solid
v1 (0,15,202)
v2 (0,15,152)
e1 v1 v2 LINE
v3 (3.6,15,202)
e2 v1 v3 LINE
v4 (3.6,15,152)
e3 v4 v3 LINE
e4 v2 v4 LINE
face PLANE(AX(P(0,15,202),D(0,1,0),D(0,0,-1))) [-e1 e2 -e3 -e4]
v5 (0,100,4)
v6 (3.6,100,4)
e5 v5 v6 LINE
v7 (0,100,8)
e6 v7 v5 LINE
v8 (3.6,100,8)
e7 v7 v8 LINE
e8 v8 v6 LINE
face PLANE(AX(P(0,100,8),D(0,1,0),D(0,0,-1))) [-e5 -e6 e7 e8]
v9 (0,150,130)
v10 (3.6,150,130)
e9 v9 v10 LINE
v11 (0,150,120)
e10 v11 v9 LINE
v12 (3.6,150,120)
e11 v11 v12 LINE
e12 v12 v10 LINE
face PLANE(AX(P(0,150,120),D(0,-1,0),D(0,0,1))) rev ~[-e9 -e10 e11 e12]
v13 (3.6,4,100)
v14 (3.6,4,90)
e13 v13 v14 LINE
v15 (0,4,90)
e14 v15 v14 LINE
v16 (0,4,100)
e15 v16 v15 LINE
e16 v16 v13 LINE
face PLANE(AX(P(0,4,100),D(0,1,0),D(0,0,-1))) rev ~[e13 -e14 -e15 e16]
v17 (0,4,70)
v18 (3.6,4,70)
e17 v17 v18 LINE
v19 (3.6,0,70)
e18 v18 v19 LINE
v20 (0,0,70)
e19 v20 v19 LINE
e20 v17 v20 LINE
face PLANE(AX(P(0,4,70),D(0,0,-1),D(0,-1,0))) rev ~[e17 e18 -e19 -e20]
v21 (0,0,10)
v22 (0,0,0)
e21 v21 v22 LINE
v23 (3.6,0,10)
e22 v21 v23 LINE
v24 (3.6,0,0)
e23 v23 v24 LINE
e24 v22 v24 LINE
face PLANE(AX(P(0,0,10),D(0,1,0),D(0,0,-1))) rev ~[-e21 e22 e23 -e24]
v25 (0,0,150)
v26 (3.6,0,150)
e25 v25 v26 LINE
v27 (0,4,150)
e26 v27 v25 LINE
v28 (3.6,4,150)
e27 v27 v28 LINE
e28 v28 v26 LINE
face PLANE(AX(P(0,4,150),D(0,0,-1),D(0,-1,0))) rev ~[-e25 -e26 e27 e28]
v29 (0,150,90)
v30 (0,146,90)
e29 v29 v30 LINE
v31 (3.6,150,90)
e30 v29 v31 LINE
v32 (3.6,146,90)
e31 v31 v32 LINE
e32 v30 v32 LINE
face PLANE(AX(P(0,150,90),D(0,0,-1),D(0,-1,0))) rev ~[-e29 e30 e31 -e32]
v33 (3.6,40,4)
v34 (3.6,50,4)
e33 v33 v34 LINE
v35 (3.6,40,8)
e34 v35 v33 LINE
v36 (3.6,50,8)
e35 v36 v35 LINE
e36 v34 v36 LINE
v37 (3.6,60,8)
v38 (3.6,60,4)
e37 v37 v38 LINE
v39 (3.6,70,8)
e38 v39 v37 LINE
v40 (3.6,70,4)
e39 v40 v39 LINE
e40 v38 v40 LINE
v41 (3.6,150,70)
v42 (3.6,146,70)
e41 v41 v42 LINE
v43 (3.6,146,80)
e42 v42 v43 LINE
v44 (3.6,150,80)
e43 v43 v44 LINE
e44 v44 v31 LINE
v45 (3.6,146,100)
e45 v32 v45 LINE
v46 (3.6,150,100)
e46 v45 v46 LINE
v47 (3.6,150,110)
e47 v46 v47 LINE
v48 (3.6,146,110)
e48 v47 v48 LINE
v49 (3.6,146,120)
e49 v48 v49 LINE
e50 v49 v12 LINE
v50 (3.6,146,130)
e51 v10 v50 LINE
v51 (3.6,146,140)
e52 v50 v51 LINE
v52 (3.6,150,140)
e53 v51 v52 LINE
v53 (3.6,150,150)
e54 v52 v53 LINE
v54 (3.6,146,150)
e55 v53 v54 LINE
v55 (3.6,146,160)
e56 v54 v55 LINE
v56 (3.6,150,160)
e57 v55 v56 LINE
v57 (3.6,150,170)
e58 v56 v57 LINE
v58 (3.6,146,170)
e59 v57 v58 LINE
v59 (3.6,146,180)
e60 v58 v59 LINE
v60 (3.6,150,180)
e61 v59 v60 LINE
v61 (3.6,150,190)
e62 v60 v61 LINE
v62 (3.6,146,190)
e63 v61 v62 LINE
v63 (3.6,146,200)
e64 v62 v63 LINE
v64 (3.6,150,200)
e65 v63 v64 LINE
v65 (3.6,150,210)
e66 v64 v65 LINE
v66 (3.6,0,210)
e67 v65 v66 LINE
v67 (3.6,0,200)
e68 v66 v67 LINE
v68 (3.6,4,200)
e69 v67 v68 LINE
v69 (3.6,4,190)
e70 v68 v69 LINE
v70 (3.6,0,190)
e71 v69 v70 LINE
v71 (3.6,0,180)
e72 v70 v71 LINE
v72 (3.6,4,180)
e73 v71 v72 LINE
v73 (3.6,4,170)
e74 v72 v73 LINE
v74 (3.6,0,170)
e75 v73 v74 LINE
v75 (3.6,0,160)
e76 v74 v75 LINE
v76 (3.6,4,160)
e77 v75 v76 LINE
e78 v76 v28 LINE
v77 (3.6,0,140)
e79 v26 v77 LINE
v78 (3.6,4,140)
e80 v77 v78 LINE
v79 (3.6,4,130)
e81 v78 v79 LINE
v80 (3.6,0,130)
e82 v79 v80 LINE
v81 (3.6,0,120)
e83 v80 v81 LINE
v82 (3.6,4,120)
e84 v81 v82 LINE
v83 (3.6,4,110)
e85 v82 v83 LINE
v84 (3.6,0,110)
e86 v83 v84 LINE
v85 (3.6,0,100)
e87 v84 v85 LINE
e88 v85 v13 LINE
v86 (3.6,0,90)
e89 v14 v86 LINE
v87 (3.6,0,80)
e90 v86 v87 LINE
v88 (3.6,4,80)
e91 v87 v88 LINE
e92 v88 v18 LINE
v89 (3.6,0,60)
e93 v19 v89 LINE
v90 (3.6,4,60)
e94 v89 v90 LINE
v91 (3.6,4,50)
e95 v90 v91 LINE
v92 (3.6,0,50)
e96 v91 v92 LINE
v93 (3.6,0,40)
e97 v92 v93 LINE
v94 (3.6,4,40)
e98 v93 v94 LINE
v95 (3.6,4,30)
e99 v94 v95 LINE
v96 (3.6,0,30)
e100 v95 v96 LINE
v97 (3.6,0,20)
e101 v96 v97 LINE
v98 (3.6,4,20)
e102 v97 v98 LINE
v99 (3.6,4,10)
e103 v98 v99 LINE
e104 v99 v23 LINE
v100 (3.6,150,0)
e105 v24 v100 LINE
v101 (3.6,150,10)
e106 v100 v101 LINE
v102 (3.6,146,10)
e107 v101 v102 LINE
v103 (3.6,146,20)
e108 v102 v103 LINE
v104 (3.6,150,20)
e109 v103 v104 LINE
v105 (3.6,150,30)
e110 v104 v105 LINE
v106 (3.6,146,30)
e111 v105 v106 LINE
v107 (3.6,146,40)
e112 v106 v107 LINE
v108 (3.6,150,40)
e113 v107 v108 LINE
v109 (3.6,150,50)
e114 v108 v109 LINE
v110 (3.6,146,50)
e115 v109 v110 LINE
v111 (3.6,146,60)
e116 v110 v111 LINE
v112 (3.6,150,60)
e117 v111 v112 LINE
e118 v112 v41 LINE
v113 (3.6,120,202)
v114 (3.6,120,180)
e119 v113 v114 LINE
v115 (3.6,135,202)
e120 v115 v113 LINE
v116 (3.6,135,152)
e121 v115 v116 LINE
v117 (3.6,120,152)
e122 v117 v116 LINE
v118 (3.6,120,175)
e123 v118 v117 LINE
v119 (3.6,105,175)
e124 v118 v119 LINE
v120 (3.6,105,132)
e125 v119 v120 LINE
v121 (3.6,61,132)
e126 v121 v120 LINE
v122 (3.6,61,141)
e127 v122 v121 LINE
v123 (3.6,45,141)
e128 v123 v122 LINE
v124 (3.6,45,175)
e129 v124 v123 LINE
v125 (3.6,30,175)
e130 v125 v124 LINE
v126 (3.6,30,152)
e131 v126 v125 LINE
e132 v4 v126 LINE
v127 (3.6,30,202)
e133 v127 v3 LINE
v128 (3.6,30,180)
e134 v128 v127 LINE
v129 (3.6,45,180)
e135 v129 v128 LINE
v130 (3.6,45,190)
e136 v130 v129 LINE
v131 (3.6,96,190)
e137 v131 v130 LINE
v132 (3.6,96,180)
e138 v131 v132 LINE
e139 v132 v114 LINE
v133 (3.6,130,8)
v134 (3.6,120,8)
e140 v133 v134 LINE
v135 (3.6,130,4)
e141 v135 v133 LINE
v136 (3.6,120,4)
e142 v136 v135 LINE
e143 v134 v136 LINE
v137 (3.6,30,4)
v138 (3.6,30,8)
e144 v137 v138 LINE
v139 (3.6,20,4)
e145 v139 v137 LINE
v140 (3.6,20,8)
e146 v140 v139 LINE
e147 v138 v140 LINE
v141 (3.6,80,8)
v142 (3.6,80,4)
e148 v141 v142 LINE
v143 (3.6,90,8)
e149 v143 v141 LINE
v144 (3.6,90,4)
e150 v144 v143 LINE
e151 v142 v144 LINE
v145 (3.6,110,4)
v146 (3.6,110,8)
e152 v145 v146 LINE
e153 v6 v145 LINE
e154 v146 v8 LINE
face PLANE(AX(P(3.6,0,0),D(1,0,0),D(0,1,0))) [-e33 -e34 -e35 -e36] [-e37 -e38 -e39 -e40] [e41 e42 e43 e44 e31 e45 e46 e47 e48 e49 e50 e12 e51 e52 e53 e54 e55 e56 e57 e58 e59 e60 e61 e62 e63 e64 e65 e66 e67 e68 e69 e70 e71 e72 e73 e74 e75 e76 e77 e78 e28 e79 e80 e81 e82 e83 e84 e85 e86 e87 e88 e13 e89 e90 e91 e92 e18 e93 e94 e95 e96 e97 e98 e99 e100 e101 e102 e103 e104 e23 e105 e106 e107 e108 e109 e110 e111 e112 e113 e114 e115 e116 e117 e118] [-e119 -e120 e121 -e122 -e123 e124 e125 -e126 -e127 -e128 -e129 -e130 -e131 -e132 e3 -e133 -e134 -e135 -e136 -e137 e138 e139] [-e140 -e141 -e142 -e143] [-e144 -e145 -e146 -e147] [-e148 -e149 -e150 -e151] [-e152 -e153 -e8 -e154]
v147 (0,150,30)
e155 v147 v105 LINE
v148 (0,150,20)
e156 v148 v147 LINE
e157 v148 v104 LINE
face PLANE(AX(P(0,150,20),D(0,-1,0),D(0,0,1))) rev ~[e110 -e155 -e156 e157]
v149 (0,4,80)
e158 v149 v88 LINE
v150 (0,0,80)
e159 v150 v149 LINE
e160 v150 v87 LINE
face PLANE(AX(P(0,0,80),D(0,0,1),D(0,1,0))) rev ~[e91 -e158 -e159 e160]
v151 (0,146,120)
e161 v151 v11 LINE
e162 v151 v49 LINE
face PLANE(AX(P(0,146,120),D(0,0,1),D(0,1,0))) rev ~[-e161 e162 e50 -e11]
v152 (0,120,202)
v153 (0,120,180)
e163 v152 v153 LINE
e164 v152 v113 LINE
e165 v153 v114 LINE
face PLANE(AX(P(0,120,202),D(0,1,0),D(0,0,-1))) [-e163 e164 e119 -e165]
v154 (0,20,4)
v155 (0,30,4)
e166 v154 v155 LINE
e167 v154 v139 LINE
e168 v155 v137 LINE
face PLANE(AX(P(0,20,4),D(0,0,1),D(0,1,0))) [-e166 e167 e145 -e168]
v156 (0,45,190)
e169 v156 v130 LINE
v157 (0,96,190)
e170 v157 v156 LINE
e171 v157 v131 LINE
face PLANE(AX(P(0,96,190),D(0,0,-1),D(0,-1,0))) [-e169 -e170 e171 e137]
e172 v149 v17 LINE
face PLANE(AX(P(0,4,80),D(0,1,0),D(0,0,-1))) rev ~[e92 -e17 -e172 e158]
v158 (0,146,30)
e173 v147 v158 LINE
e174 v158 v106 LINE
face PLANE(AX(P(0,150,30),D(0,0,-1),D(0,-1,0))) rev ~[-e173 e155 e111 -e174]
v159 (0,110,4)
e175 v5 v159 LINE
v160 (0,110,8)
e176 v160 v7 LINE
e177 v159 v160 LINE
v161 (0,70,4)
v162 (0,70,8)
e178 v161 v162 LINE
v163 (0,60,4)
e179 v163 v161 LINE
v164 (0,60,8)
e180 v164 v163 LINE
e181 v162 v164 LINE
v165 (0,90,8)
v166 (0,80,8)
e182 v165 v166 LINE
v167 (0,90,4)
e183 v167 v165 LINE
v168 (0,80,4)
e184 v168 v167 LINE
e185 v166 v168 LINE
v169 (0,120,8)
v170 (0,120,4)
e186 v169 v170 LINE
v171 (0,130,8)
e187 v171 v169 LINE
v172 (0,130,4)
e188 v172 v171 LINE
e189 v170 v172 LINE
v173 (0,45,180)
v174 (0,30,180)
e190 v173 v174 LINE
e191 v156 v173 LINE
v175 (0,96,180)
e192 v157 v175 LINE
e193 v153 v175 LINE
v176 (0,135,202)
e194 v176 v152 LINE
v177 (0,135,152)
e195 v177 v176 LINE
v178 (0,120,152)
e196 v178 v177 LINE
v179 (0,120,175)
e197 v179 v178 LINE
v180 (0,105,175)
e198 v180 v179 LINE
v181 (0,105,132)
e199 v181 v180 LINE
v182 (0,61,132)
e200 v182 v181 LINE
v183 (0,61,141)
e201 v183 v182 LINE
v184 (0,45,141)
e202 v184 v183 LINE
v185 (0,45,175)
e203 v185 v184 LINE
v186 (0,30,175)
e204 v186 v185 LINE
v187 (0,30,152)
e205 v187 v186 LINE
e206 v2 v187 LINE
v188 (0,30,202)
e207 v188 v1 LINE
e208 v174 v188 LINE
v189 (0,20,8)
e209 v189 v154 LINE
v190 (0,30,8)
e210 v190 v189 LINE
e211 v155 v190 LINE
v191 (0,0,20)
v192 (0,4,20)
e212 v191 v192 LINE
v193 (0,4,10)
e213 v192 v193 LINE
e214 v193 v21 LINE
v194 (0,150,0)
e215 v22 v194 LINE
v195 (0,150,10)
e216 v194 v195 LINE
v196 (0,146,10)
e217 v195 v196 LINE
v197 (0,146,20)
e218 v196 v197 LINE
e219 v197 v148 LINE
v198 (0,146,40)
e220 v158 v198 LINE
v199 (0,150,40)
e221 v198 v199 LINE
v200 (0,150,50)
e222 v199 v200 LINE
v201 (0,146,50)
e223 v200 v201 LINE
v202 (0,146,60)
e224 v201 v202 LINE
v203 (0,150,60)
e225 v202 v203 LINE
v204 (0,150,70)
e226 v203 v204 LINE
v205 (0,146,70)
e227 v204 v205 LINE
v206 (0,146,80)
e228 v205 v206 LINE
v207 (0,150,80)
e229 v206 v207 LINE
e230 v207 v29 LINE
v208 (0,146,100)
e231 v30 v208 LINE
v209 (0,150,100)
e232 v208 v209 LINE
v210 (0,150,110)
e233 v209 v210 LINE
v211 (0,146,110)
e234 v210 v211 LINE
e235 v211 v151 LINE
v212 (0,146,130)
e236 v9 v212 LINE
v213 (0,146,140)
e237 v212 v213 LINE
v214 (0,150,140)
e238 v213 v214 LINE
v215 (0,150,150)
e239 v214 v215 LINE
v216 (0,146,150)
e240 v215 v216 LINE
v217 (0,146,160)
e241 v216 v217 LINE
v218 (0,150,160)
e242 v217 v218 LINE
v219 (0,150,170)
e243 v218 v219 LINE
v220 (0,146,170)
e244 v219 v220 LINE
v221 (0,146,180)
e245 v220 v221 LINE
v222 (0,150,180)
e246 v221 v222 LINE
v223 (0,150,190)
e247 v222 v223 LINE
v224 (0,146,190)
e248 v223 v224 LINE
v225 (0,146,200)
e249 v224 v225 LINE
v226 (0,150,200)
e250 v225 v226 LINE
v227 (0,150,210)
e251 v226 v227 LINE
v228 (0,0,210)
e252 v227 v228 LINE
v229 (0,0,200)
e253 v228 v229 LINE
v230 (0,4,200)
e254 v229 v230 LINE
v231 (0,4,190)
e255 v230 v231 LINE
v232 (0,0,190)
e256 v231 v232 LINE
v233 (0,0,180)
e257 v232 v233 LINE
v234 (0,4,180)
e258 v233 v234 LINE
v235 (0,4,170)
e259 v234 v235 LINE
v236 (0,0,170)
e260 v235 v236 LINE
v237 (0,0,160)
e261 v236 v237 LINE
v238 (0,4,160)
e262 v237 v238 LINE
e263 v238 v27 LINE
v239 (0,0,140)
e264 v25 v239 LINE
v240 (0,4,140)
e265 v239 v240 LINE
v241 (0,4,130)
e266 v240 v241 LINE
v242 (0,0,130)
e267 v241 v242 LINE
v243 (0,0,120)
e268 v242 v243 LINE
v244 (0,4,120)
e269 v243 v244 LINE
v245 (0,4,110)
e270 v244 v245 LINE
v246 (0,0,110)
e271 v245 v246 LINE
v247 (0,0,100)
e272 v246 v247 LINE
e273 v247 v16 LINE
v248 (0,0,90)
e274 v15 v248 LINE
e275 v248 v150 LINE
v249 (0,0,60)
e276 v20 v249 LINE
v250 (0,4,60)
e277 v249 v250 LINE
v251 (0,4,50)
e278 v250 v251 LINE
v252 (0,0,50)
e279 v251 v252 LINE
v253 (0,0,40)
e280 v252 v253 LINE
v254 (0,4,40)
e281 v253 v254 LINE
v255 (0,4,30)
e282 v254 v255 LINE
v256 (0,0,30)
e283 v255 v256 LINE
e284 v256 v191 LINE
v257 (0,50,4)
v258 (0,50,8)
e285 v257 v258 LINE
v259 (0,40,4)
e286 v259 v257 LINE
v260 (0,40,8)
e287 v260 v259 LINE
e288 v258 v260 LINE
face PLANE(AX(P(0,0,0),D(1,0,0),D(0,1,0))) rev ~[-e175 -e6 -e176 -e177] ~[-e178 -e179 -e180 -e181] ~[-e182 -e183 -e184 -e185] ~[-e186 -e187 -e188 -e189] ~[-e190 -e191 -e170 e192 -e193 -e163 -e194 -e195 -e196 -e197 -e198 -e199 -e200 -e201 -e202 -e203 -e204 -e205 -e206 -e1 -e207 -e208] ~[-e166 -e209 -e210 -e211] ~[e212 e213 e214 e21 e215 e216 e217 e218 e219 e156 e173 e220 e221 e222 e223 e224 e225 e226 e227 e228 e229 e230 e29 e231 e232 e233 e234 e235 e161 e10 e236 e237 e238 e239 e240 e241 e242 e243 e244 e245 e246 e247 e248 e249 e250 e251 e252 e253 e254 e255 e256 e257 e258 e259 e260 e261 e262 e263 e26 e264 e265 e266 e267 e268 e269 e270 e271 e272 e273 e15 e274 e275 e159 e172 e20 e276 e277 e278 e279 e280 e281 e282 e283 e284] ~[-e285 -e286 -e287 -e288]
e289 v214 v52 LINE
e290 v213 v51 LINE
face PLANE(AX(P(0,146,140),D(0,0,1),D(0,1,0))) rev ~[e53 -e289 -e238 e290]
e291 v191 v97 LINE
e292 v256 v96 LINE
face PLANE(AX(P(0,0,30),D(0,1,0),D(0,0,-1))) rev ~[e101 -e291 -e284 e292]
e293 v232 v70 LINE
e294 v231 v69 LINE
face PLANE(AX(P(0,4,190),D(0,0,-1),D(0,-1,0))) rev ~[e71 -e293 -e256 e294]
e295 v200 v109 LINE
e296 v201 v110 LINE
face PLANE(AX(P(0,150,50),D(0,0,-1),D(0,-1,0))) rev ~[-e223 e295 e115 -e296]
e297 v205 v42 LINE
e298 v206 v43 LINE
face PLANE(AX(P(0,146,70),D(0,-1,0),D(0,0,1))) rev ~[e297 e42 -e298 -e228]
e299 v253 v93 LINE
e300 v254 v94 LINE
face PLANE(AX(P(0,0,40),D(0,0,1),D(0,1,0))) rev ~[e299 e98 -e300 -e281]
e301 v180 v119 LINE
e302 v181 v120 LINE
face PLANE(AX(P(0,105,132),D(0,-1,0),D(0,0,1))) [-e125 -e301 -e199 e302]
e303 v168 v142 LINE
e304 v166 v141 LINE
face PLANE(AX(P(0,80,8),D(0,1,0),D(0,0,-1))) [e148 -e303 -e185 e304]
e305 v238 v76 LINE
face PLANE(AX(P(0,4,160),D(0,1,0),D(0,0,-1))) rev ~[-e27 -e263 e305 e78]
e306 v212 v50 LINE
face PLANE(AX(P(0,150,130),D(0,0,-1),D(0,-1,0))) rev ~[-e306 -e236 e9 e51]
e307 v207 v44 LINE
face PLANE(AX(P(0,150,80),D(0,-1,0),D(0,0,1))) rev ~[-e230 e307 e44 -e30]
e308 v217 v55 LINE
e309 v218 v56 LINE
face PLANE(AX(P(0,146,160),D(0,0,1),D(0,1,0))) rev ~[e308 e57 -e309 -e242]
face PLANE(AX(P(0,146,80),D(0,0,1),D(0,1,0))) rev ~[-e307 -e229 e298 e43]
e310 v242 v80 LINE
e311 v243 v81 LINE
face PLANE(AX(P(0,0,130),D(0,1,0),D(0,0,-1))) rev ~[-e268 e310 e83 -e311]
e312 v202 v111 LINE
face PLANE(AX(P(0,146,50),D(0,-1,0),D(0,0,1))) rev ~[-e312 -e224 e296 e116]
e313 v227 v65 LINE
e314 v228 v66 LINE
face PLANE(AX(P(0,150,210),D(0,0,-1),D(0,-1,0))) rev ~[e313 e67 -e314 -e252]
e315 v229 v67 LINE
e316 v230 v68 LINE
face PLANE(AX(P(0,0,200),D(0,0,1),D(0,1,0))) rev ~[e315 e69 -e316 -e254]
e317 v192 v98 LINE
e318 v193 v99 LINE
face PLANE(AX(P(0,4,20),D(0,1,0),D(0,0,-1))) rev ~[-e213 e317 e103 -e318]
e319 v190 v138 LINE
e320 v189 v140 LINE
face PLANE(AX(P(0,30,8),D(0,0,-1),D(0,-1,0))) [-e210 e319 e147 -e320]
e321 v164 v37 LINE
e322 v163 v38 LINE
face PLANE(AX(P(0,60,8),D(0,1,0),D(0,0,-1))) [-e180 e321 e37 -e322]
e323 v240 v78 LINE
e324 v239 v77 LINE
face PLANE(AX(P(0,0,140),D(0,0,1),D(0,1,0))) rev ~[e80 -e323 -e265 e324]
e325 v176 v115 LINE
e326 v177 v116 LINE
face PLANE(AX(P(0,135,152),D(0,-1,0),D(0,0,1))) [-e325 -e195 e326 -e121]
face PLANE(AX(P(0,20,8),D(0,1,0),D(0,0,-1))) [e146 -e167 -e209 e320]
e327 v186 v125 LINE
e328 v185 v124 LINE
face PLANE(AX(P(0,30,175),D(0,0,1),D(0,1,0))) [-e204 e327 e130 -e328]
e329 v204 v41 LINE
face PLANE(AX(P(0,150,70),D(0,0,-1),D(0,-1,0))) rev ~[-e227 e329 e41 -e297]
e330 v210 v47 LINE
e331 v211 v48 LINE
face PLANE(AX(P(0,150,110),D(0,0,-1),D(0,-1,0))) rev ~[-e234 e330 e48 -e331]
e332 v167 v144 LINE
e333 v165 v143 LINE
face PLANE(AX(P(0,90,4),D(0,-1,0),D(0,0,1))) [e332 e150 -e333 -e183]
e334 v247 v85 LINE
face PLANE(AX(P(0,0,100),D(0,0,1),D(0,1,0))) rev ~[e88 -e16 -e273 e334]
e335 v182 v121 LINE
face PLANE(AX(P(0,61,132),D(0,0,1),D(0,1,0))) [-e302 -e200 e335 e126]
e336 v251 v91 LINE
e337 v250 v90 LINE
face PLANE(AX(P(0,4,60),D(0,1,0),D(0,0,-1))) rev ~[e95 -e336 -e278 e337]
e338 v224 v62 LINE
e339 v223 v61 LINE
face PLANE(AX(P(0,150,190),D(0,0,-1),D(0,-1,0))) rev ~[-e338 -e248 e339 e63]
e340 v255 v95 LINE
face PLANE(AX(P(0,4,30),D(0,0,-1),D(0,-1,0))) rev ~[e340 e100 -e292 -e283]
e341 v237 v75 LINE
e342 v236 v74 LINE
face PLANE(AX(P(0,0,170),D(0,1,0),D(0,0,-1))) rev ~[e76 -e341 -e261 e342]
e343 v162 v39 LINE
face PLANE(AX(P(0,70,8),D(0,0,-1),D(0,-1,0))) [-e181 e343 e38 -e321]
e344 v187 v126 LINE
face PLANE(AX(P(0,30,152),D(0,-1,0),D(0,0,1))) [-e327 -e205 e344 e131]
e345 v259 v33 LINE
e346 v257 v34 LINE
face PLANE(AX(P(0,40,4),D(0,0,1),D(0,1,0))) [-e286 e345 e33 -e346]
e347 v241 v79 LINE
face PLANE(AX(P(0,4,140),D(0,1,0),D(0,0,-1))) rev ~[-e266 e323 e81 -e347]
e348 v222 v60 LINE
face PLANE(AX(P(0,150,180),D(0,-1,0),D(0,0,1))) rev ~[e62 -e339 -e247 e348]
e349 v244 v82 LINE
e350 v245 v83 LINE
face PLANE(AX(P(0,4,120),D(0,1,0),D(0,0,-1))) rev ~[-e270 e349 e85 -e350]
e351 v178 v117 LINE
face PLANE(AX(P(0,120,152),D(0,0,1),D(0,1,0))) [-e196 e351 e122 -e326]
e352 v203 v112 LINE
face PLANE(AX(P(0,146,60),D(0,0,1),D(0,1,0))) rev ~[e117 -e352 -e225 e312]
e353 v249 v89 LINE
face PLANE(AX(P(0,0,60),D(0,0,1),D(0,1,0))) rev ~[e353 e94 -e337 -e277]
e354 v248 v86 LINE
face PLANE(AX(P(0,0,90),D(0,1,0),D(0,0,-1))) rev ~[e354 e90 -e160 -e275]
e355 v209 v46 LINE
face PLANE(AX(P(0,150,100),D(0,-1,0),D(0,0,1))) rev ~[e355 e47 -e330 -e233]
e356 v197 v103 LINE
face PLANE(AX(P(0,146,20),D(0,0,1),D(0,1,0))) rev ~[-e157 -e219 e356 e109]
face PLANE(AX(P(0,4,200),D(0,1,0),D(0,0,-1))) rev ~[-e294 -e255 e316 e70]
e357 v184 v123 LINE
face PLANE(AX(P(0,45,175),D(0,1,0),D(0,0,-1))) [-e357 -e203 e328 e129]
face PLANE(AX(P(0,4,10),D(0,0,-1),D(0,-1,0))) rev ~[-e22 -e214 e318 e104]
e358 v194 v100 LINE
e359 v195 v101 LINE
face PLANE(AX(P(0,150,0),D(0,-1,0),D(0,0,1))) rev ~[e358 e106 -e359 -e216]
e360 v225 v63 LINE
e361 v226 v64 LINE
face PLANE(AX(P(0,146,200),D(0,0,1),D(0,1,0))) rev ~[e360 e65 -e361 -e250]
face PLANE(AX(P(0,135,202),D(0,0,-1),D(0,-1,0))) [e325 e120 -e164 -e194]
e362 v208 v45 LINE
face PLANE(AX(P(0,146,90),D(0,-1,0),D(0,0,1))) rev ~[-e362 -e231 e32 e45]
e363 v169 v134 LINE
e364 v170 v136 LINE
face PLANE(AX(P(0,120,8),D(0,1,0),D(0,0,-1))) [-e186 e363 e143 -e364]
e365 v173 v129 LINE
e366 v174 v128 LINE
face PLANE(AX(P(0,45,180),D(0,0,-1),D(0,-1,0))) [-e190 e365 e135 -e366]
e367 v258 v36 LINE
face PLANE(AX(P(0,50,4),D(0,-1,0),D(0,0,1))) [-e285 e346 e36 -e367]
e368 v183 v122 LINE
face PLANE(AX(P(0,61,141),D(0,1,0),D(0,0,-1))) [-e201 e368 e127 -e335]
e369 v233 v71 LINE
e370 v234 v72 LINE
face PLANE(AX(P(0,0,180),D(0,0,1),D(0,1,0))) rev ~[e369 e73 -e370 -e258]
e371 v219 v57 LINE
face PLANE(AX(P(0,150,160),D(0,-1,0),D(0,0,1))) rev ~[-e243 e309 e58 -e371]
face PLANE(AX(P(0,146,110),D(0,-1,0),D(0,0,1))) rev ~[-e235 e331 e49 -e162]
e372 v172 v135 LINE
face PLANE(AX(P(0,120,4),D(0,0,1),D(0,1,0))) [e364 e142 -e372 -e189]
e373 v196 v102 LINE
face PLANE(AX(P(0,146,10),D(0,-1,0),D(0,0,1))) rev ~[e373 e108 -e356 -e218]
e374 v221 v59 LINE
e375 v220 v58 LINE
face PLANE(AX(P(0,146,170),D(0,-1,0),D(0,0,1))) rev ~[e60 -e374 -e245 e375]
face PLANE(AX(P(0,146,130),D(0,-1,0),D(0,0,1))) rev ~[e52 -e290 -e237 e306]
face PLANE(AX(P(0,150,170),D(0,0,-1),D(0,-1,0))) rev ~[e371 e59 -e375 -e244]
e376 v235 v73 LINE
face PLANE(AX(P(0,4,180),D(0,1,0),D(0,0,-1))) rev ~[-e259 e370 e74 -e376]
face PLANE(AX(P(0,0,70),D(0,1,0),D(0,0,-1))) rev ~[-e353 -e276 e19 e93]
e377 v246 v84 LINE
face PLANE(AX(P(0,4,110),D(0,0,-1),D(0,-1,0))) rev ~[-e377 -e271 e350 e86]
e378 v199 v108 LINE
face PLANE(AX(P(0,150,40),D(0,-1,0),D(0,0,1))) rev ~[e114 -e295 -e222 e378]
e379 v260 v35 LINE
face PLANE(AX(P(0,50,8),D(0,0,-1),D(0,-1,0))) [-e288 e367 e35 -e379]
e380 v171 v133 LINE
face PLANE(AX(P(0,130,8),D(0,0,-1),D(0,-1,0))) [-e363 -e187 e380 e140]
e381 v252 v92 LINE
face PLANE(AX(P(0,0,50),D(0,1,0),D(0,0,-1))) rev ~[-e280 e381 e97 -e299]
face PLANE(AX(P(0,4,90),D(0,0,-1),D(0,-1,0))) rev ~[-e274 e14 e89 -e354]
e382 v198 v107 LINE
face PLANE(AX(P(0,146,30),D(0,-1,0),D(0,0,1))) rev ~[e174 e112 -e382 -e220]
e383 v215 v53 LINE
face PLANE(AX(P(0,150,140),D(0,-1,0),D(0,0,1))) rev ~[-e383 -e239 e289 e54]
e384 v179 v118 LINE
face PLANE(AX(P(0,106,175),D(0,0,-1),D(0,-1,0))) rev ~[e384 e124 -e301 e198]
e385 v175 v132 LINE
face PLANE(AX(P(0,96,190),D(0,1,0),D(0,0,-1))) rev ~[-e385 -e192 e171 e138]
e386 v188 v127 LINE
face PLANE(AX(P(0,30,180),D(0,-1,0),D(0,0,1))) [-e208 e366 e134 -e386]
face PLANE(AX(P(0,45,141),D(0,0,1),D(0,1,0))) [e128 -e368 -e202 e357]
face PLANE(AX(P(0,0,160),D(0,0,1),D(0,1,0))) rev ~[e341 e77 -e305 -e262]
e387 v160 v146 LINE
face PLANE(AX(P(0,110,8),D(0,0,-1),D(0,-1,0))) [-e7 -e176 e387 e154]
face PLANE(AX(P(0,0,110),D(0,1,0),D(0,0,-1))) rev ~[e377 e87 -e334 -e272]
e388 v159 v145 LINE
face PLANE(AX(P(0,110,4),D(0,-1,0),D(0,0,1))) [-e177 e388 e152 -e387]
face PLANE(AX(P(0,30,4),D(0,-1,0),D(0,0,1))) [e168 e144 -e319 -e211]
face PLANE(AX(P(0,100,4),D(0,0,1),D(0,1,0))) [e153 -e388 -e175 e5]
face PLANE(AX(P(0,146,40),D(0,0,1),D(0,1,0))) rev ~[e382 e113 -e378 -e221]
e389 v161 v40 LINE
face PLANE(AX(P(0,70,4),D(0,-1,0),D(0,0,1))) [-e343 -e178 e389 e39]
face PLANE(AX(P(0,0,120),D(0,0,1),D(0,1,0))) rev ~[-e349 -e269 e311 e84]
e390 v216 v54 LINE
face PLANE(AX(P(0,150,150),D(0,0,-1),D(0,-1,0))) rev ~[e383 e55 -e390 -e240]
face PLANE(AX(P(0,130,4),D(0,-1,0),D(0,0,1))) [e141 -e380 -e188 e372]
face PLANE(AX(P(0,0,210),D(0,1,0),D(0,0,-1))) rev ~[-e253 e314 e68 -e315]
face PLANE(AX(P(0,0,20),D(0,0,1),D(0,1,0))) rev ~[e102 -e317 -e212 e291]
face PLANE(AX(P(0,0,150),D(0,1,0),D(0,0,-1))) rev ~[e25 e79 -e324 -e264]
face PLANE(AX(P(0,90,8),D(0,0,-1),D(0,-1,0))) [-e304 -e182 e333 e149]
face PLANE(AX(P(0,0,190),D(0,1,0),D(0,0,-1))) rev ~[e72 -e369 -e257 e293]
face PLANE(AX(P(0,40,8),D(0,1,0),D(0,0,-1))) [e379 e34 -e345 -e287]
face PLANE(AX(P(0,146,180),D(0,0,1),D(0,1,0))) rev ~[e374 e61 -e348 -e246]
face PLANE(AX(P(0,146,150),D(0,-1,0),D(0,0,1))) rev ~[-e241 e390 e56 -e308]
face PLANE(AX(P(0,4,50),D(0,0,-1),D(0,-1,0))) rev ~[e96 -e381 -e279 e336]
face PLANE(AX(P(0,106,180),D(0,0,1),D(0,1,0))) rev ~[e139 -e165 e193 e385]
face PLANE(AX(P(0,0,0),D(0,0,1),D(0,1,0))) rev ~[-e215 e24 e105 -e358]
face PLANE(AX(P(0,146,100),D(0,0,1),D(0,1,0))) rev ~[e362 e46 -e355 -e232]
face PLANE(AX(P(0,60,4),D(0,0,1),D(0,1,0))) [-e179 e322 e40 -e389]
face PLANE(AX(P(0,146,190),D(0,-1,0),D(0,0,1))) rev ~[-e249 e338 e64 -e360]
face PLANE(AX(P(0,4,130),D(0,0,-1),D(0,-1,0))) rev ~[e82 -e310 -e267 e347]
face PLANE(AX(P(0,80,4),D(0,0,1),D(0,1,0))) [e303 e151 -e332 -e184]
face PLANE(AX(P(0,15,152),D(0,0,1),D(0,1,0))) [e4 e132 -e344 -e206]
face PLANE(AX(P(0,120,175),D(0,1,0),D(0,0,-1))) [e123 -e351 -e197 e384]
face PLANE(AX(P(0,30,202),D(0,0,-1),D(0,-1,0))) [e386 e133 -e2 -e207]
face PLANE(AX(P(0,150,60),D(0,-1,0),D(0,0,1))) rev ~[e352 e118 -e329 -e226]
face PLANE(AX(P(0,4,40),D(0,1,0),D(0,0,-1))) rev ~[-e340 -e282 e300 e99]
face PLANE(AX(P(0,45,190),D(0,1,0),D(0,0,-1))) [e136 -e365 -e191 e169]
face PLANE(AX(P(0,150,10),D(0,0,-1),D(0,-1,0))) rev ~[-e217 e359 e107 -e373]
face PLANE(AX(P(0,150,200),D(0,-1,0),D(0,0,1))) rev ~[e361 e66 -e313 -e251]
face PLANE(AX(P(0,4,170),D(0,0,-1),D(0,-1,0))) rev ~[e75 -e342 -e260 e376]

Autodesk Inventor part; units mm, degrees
ref_plane "YZ Plane" through (0, 0, 0) normal (1, 0, 0) x (0, 1, 0)
ref_plane "XZ Plane" through (0, 0, 0) normal (0, 1, 0) x (-1, 0, 0)
ref_plane "XY Plane" through (0, 0, 0) normal (0, 0, 1) x (1, 0, 0)
sketch "Sketch1" plane through (0, 0, 0) normal (1, 0, 0) x (0, 1, 0)
  line L0 (0, 0) -> (150, 0)
  line L1 (150, 0) -> (150, 210)
  line L2 (150, 210) -> (0, 210)
  line L3 (0, 210) -> (0, 0)
  line L4 (105, 190) -> (45, 190)
  line L5 (45, 190) -> (45, 132)
  line L6 (45, 132) -> (105, 132)
  line L7 (105, 132) -> (105, 190)
  line L8 (105, 190) -> (96, 190)
  line L9 (96, 190) -> (96, 170)
  line L10 (96, 170) -> (105, 170)
  line L11 (105, 170) -> (105, 190)
  line L12 (45, 141) -> (61, 141)
  line L13 (61, 141) -> (61, 132)
  line L14 (61, 132) -> (45, 132)
  line L15 (45, 132) -> (45, 141)
  line L16 (105, 190) -> (96, 190)
  line L17 (96, 190) -> (96, 180)
  line L18 (96, 180) -> (105, 180)
  line L19 (105, 180) -> (105, 190)
  line L20 (105, 180) -> (135, 180)
  line L21 (135, 180) -> (135, 175)
  line L22 (135, 175) -> (105, 175)
  line L23 (105, 175) -> (105, 180)
  line L24 (135, 202) -> (120, 202)
  line L25 (120, 202) -> (120, 152)
  line L26 (120, 152) -> (135, 152)
  line L27 (135, 152) -> (135, 202)
  line L28 (105, 180) -> (26.723, 180)
  line L29 (26.723, 180) -> (26.723, 175)
  line L30 (26.723, 175) -> (105, 175)
  line L31 (105, 175) -> (105, 180)
  line L32 (45, 180) -> (15, 180)
  line L33 (15, 180) -> (15, 175)
  line L34 (15, 175) -> (45, 175)
  line L35 (45, 175) -> (45, 180)
  line L36 (30, 202) -> (15, 202)
  line L37 (15, 202) -> (15, 152)
  line L38 (15, 152) -> (30, 152)
  line L39 (30, 152) -> (30, 202)
  line L40 (150, 10) -> (146, 10)
  line L41 (146, 10) -> (146, 20)
  line L42 (146, 20) -> (150, 20)
  line L43 (150, 20) -> (150, 10)
  line L44 (4, 10) -> (0, 10)
  line L45 (0, 10) -> (0, 20)
  line L46 (0, 20) -> (4, 20)
  line L47 (4, 20) -> (4, 10)
  line L48 (150, 30) -> (146, 30)
  line L49 (146, 30) -> (146, 40)
  line L50 (146, 40) -> (150, 40)
  line L51 (150, 40) -> (150, 30)
  line L52 (150, 50) -> (146, 50)
  line L53 (146, 50) -> (146, 60)
  line L54 (146, 60) -> (150, 60)
  line L55 (150, 60) -> (150, 50)
  line L56 (150, 70) -> (146, 70)
  line L57 (146, 70) -> (146, 80)
  line L58 (146, 80) -> (150, 80)
  line L59 (150, 80) -> (150, 70)
  line L60 (150, 90) -> (146, 90)
  line L61 (146, 90) -> (146, 100)
  line L62 (146, 100) -> (150, 100)
  line L63 (150, 100) -> (150, 90)
  line L64 (150, 110) -> (146, 110)
  line L65 (146, 110) -> (146, 120)
  line L66 (146, 120) -> (150, 120)
  line L67 (150, 120) -> (150, 110)
  line L68 (150, 130) -> (146, 130)
  line L69 (146, 130) -> (146, 140)
  line L70 (146, 140) -> (150, 140)
  line L71 (150, 140) -> (150, 130)
  line L72 (150, 150) -> (146, 150)
  line L73 (146, 150) -> (146, 160)
  line L74 (146, 160) -> (150, 160)
  line L75 (150, 160) -> (150, 150)
  line L76 (150, 170) -> (146, 170)
  line L77 (146, 170) -> (146, 180)
  line L78 (146, 180) -> (150, 180)
  line L79 (150, 180) -> (150, 170)
  line L80 (150, 190) -> (146, 190)
  line L81 (146, 190) -> (146, 200)
  line L82 (146, 200) -> (150, 200)
  line L83 (150, 200) -> (150, 190)
  line L84 (4, 30) -> (0, 30)
  line L85 (0, 30) -> (0, 40)
  line L86 (0, 40) -> (4, 40)
  line L87 (4, 40) -> (4, 30)
  line L88 (4, 50) -> (0, 50)
  line L89 (0, 50) -> (0, 60)
  line L90 (0, 60) -> (4, 60)
  line L91 (4, 60) -> (4, 50)
  line L92 (4, 70) -> (0, 70)
  line L93 (0, 70) -> (0, 80)
  line L94 (0, 80) -> (4, 80)
  line L95 (4, 80) -> (4, 70)
  line L96 (4, 90) -> (0, 90)
  line L97 (0, 90) -> (0, 100)
  line L98 (0, 100) -> (4, 100)
  line L99 (4, 100) -> (4, 90)
  line L100 (4, 110) -> (0, 110)
  line L101 (0, 110) -> (0, 120)
  line L102 (0, 120) -> (4, 120)
  line L103 (4, 120) -> (4, 110)
  line L104 (4, 130) -> (0, 130)
  line L105 (0, 130) -> (0, 140)
  line L106 (0, 140) -> (4, 140)
  line L107 (4, 140) -> (4, 130)
  line L108 (4, 150) -> (0, 150)
  line L109 (0, 150) -> (0, 160)
  line L110 (0, 160) -> (4, 160)
  line L111 (4, 160) -> (4, 150)
  line L112 (4, 170) -> (0, 170)
  line L113 (0, 170) -> (0, 180)
  line L114 (0, 180) -> (4, 180)
  line L115 (4, 180) -> (4, 170)
  line L116 (4, 190) -> (0, 190)
  line L117 (0, 190) -> (0, 200)
  line L118 (0, 200) -> (4, 200)
  line L119 (4, 200) -> (4, 190)
  line L120 (126, 170) -> (126, 180)
  line L121 (106, 170) -> (106, 180)
  line L122 (86, 170) -> (86, 180)
  line L123 (66, 170) -> (66, 180)
  line L124 (46, 170) -> (46, 180)
  line L125 (26, 170) -> (26, 180)
  line L126 (30, 8) -> (20, 8)
  line L127 (20, 8) -> (20, 4)
  line L128 (20, 4) -> (30, 4)
  line L129 (30, 4) -> (30, 8)
  line L130 (50, 8) -> (40, 8)
  line L131 (40, 8) -> (40, 4)
  line L132 (40, 4) -> (50, 4)
  line L133 (50, 4) -> (50, 8)
  line L134 (70, 8) -> (60, 8)
  line L135 (60, 8) -> (60, 4)
  line L136 (60, 4) -> (70, 4)
  line L137 (70, 4) -> (70, 8)
  line L138 (90, 8) -> (80, 8)
  line L139 (80, 8) -> (80, 4)
  line L140 (80, 4) -> (90, 4)
  line L141 (90, 4) -> (90, 8)
  line L142 (110, 8) -> (100, 8)
  line L143 (100, 8) -> (100, 4)
  line L144 (100, 4) -> (110, 4)
  line L145 (110, 4) -> (110, 8)
  line L146 (130, 8) -> (120, 8)
  line L147 (120, 8) -> (120, 4)
  line L148 (120, 4) -> (130, 4)
  line L149 (130, 4) -> (130, 8)
  dimension "d0" = 150
  dimension "d1" = 210
  dimension "d2" = 60
  dimension "d3" = 45
  dimension "d4" = 20
  dimension "d5" = 58
  dimension "d6" = 20
  dimension "d7" = 9
  dimension "d8" = 16
  dimension "d9" = 9
  dimension "d10" = 30
  dimension "d11" = 5
  dimension "d12" = 15
  dimension "d13" = 50
  dimension "d14" = 22
  dimension "d15" = 30
  dimension "d16" = 5
  dimension "d17" = 15
  dimension "d18" = 50
  dimension "d19" = 15
  dimension "d20" = 0
  dimension "d25" = 4
  dimension "d26" = 10
  dimension "d27" = 10
  dimension "d28" = 4
  dimension "d29" = 10
  dimension "d30" = 10
  dimension "d35" = 20
  dimension "d42" = 20
  dimension "d49" = 20
  dimension "d54" = 22
  dimension "d57" = 4
  dimension "d58" = 10
  dimension "d59" = 20
  dimension "d60" = 4
  dimension "d63" = 20
sketch "Sketch2" plane through (0, 0, 0) normal (1, 0, 0) x (0, 1, 0)
  point P0 (0, 0)
extrude "Extrusion3" add sketch "Sketch1" along normal blind 3.6 contours L3 L44 L47 L46 L84 L87 L86 L88 L91 L90 L92 L95 L94 L96 L99 L98 L100 L103 L102 L104 L107 L106 L108 L111 L110 L112 L115 L114 L116 L119 L118 L2 L1 L82 L81 L80 L78 L77 L76 L74 L73 L72 L70 L69 L68 L66 L65 L64 L62 L61 L60 L58 L57 L56 L54 L53 L52 L50 L49 L48 L42 L41 L40 L0 | L7 L18 L9 L4 | L12 L13 L6 L5
properties part number "onderplaat"
